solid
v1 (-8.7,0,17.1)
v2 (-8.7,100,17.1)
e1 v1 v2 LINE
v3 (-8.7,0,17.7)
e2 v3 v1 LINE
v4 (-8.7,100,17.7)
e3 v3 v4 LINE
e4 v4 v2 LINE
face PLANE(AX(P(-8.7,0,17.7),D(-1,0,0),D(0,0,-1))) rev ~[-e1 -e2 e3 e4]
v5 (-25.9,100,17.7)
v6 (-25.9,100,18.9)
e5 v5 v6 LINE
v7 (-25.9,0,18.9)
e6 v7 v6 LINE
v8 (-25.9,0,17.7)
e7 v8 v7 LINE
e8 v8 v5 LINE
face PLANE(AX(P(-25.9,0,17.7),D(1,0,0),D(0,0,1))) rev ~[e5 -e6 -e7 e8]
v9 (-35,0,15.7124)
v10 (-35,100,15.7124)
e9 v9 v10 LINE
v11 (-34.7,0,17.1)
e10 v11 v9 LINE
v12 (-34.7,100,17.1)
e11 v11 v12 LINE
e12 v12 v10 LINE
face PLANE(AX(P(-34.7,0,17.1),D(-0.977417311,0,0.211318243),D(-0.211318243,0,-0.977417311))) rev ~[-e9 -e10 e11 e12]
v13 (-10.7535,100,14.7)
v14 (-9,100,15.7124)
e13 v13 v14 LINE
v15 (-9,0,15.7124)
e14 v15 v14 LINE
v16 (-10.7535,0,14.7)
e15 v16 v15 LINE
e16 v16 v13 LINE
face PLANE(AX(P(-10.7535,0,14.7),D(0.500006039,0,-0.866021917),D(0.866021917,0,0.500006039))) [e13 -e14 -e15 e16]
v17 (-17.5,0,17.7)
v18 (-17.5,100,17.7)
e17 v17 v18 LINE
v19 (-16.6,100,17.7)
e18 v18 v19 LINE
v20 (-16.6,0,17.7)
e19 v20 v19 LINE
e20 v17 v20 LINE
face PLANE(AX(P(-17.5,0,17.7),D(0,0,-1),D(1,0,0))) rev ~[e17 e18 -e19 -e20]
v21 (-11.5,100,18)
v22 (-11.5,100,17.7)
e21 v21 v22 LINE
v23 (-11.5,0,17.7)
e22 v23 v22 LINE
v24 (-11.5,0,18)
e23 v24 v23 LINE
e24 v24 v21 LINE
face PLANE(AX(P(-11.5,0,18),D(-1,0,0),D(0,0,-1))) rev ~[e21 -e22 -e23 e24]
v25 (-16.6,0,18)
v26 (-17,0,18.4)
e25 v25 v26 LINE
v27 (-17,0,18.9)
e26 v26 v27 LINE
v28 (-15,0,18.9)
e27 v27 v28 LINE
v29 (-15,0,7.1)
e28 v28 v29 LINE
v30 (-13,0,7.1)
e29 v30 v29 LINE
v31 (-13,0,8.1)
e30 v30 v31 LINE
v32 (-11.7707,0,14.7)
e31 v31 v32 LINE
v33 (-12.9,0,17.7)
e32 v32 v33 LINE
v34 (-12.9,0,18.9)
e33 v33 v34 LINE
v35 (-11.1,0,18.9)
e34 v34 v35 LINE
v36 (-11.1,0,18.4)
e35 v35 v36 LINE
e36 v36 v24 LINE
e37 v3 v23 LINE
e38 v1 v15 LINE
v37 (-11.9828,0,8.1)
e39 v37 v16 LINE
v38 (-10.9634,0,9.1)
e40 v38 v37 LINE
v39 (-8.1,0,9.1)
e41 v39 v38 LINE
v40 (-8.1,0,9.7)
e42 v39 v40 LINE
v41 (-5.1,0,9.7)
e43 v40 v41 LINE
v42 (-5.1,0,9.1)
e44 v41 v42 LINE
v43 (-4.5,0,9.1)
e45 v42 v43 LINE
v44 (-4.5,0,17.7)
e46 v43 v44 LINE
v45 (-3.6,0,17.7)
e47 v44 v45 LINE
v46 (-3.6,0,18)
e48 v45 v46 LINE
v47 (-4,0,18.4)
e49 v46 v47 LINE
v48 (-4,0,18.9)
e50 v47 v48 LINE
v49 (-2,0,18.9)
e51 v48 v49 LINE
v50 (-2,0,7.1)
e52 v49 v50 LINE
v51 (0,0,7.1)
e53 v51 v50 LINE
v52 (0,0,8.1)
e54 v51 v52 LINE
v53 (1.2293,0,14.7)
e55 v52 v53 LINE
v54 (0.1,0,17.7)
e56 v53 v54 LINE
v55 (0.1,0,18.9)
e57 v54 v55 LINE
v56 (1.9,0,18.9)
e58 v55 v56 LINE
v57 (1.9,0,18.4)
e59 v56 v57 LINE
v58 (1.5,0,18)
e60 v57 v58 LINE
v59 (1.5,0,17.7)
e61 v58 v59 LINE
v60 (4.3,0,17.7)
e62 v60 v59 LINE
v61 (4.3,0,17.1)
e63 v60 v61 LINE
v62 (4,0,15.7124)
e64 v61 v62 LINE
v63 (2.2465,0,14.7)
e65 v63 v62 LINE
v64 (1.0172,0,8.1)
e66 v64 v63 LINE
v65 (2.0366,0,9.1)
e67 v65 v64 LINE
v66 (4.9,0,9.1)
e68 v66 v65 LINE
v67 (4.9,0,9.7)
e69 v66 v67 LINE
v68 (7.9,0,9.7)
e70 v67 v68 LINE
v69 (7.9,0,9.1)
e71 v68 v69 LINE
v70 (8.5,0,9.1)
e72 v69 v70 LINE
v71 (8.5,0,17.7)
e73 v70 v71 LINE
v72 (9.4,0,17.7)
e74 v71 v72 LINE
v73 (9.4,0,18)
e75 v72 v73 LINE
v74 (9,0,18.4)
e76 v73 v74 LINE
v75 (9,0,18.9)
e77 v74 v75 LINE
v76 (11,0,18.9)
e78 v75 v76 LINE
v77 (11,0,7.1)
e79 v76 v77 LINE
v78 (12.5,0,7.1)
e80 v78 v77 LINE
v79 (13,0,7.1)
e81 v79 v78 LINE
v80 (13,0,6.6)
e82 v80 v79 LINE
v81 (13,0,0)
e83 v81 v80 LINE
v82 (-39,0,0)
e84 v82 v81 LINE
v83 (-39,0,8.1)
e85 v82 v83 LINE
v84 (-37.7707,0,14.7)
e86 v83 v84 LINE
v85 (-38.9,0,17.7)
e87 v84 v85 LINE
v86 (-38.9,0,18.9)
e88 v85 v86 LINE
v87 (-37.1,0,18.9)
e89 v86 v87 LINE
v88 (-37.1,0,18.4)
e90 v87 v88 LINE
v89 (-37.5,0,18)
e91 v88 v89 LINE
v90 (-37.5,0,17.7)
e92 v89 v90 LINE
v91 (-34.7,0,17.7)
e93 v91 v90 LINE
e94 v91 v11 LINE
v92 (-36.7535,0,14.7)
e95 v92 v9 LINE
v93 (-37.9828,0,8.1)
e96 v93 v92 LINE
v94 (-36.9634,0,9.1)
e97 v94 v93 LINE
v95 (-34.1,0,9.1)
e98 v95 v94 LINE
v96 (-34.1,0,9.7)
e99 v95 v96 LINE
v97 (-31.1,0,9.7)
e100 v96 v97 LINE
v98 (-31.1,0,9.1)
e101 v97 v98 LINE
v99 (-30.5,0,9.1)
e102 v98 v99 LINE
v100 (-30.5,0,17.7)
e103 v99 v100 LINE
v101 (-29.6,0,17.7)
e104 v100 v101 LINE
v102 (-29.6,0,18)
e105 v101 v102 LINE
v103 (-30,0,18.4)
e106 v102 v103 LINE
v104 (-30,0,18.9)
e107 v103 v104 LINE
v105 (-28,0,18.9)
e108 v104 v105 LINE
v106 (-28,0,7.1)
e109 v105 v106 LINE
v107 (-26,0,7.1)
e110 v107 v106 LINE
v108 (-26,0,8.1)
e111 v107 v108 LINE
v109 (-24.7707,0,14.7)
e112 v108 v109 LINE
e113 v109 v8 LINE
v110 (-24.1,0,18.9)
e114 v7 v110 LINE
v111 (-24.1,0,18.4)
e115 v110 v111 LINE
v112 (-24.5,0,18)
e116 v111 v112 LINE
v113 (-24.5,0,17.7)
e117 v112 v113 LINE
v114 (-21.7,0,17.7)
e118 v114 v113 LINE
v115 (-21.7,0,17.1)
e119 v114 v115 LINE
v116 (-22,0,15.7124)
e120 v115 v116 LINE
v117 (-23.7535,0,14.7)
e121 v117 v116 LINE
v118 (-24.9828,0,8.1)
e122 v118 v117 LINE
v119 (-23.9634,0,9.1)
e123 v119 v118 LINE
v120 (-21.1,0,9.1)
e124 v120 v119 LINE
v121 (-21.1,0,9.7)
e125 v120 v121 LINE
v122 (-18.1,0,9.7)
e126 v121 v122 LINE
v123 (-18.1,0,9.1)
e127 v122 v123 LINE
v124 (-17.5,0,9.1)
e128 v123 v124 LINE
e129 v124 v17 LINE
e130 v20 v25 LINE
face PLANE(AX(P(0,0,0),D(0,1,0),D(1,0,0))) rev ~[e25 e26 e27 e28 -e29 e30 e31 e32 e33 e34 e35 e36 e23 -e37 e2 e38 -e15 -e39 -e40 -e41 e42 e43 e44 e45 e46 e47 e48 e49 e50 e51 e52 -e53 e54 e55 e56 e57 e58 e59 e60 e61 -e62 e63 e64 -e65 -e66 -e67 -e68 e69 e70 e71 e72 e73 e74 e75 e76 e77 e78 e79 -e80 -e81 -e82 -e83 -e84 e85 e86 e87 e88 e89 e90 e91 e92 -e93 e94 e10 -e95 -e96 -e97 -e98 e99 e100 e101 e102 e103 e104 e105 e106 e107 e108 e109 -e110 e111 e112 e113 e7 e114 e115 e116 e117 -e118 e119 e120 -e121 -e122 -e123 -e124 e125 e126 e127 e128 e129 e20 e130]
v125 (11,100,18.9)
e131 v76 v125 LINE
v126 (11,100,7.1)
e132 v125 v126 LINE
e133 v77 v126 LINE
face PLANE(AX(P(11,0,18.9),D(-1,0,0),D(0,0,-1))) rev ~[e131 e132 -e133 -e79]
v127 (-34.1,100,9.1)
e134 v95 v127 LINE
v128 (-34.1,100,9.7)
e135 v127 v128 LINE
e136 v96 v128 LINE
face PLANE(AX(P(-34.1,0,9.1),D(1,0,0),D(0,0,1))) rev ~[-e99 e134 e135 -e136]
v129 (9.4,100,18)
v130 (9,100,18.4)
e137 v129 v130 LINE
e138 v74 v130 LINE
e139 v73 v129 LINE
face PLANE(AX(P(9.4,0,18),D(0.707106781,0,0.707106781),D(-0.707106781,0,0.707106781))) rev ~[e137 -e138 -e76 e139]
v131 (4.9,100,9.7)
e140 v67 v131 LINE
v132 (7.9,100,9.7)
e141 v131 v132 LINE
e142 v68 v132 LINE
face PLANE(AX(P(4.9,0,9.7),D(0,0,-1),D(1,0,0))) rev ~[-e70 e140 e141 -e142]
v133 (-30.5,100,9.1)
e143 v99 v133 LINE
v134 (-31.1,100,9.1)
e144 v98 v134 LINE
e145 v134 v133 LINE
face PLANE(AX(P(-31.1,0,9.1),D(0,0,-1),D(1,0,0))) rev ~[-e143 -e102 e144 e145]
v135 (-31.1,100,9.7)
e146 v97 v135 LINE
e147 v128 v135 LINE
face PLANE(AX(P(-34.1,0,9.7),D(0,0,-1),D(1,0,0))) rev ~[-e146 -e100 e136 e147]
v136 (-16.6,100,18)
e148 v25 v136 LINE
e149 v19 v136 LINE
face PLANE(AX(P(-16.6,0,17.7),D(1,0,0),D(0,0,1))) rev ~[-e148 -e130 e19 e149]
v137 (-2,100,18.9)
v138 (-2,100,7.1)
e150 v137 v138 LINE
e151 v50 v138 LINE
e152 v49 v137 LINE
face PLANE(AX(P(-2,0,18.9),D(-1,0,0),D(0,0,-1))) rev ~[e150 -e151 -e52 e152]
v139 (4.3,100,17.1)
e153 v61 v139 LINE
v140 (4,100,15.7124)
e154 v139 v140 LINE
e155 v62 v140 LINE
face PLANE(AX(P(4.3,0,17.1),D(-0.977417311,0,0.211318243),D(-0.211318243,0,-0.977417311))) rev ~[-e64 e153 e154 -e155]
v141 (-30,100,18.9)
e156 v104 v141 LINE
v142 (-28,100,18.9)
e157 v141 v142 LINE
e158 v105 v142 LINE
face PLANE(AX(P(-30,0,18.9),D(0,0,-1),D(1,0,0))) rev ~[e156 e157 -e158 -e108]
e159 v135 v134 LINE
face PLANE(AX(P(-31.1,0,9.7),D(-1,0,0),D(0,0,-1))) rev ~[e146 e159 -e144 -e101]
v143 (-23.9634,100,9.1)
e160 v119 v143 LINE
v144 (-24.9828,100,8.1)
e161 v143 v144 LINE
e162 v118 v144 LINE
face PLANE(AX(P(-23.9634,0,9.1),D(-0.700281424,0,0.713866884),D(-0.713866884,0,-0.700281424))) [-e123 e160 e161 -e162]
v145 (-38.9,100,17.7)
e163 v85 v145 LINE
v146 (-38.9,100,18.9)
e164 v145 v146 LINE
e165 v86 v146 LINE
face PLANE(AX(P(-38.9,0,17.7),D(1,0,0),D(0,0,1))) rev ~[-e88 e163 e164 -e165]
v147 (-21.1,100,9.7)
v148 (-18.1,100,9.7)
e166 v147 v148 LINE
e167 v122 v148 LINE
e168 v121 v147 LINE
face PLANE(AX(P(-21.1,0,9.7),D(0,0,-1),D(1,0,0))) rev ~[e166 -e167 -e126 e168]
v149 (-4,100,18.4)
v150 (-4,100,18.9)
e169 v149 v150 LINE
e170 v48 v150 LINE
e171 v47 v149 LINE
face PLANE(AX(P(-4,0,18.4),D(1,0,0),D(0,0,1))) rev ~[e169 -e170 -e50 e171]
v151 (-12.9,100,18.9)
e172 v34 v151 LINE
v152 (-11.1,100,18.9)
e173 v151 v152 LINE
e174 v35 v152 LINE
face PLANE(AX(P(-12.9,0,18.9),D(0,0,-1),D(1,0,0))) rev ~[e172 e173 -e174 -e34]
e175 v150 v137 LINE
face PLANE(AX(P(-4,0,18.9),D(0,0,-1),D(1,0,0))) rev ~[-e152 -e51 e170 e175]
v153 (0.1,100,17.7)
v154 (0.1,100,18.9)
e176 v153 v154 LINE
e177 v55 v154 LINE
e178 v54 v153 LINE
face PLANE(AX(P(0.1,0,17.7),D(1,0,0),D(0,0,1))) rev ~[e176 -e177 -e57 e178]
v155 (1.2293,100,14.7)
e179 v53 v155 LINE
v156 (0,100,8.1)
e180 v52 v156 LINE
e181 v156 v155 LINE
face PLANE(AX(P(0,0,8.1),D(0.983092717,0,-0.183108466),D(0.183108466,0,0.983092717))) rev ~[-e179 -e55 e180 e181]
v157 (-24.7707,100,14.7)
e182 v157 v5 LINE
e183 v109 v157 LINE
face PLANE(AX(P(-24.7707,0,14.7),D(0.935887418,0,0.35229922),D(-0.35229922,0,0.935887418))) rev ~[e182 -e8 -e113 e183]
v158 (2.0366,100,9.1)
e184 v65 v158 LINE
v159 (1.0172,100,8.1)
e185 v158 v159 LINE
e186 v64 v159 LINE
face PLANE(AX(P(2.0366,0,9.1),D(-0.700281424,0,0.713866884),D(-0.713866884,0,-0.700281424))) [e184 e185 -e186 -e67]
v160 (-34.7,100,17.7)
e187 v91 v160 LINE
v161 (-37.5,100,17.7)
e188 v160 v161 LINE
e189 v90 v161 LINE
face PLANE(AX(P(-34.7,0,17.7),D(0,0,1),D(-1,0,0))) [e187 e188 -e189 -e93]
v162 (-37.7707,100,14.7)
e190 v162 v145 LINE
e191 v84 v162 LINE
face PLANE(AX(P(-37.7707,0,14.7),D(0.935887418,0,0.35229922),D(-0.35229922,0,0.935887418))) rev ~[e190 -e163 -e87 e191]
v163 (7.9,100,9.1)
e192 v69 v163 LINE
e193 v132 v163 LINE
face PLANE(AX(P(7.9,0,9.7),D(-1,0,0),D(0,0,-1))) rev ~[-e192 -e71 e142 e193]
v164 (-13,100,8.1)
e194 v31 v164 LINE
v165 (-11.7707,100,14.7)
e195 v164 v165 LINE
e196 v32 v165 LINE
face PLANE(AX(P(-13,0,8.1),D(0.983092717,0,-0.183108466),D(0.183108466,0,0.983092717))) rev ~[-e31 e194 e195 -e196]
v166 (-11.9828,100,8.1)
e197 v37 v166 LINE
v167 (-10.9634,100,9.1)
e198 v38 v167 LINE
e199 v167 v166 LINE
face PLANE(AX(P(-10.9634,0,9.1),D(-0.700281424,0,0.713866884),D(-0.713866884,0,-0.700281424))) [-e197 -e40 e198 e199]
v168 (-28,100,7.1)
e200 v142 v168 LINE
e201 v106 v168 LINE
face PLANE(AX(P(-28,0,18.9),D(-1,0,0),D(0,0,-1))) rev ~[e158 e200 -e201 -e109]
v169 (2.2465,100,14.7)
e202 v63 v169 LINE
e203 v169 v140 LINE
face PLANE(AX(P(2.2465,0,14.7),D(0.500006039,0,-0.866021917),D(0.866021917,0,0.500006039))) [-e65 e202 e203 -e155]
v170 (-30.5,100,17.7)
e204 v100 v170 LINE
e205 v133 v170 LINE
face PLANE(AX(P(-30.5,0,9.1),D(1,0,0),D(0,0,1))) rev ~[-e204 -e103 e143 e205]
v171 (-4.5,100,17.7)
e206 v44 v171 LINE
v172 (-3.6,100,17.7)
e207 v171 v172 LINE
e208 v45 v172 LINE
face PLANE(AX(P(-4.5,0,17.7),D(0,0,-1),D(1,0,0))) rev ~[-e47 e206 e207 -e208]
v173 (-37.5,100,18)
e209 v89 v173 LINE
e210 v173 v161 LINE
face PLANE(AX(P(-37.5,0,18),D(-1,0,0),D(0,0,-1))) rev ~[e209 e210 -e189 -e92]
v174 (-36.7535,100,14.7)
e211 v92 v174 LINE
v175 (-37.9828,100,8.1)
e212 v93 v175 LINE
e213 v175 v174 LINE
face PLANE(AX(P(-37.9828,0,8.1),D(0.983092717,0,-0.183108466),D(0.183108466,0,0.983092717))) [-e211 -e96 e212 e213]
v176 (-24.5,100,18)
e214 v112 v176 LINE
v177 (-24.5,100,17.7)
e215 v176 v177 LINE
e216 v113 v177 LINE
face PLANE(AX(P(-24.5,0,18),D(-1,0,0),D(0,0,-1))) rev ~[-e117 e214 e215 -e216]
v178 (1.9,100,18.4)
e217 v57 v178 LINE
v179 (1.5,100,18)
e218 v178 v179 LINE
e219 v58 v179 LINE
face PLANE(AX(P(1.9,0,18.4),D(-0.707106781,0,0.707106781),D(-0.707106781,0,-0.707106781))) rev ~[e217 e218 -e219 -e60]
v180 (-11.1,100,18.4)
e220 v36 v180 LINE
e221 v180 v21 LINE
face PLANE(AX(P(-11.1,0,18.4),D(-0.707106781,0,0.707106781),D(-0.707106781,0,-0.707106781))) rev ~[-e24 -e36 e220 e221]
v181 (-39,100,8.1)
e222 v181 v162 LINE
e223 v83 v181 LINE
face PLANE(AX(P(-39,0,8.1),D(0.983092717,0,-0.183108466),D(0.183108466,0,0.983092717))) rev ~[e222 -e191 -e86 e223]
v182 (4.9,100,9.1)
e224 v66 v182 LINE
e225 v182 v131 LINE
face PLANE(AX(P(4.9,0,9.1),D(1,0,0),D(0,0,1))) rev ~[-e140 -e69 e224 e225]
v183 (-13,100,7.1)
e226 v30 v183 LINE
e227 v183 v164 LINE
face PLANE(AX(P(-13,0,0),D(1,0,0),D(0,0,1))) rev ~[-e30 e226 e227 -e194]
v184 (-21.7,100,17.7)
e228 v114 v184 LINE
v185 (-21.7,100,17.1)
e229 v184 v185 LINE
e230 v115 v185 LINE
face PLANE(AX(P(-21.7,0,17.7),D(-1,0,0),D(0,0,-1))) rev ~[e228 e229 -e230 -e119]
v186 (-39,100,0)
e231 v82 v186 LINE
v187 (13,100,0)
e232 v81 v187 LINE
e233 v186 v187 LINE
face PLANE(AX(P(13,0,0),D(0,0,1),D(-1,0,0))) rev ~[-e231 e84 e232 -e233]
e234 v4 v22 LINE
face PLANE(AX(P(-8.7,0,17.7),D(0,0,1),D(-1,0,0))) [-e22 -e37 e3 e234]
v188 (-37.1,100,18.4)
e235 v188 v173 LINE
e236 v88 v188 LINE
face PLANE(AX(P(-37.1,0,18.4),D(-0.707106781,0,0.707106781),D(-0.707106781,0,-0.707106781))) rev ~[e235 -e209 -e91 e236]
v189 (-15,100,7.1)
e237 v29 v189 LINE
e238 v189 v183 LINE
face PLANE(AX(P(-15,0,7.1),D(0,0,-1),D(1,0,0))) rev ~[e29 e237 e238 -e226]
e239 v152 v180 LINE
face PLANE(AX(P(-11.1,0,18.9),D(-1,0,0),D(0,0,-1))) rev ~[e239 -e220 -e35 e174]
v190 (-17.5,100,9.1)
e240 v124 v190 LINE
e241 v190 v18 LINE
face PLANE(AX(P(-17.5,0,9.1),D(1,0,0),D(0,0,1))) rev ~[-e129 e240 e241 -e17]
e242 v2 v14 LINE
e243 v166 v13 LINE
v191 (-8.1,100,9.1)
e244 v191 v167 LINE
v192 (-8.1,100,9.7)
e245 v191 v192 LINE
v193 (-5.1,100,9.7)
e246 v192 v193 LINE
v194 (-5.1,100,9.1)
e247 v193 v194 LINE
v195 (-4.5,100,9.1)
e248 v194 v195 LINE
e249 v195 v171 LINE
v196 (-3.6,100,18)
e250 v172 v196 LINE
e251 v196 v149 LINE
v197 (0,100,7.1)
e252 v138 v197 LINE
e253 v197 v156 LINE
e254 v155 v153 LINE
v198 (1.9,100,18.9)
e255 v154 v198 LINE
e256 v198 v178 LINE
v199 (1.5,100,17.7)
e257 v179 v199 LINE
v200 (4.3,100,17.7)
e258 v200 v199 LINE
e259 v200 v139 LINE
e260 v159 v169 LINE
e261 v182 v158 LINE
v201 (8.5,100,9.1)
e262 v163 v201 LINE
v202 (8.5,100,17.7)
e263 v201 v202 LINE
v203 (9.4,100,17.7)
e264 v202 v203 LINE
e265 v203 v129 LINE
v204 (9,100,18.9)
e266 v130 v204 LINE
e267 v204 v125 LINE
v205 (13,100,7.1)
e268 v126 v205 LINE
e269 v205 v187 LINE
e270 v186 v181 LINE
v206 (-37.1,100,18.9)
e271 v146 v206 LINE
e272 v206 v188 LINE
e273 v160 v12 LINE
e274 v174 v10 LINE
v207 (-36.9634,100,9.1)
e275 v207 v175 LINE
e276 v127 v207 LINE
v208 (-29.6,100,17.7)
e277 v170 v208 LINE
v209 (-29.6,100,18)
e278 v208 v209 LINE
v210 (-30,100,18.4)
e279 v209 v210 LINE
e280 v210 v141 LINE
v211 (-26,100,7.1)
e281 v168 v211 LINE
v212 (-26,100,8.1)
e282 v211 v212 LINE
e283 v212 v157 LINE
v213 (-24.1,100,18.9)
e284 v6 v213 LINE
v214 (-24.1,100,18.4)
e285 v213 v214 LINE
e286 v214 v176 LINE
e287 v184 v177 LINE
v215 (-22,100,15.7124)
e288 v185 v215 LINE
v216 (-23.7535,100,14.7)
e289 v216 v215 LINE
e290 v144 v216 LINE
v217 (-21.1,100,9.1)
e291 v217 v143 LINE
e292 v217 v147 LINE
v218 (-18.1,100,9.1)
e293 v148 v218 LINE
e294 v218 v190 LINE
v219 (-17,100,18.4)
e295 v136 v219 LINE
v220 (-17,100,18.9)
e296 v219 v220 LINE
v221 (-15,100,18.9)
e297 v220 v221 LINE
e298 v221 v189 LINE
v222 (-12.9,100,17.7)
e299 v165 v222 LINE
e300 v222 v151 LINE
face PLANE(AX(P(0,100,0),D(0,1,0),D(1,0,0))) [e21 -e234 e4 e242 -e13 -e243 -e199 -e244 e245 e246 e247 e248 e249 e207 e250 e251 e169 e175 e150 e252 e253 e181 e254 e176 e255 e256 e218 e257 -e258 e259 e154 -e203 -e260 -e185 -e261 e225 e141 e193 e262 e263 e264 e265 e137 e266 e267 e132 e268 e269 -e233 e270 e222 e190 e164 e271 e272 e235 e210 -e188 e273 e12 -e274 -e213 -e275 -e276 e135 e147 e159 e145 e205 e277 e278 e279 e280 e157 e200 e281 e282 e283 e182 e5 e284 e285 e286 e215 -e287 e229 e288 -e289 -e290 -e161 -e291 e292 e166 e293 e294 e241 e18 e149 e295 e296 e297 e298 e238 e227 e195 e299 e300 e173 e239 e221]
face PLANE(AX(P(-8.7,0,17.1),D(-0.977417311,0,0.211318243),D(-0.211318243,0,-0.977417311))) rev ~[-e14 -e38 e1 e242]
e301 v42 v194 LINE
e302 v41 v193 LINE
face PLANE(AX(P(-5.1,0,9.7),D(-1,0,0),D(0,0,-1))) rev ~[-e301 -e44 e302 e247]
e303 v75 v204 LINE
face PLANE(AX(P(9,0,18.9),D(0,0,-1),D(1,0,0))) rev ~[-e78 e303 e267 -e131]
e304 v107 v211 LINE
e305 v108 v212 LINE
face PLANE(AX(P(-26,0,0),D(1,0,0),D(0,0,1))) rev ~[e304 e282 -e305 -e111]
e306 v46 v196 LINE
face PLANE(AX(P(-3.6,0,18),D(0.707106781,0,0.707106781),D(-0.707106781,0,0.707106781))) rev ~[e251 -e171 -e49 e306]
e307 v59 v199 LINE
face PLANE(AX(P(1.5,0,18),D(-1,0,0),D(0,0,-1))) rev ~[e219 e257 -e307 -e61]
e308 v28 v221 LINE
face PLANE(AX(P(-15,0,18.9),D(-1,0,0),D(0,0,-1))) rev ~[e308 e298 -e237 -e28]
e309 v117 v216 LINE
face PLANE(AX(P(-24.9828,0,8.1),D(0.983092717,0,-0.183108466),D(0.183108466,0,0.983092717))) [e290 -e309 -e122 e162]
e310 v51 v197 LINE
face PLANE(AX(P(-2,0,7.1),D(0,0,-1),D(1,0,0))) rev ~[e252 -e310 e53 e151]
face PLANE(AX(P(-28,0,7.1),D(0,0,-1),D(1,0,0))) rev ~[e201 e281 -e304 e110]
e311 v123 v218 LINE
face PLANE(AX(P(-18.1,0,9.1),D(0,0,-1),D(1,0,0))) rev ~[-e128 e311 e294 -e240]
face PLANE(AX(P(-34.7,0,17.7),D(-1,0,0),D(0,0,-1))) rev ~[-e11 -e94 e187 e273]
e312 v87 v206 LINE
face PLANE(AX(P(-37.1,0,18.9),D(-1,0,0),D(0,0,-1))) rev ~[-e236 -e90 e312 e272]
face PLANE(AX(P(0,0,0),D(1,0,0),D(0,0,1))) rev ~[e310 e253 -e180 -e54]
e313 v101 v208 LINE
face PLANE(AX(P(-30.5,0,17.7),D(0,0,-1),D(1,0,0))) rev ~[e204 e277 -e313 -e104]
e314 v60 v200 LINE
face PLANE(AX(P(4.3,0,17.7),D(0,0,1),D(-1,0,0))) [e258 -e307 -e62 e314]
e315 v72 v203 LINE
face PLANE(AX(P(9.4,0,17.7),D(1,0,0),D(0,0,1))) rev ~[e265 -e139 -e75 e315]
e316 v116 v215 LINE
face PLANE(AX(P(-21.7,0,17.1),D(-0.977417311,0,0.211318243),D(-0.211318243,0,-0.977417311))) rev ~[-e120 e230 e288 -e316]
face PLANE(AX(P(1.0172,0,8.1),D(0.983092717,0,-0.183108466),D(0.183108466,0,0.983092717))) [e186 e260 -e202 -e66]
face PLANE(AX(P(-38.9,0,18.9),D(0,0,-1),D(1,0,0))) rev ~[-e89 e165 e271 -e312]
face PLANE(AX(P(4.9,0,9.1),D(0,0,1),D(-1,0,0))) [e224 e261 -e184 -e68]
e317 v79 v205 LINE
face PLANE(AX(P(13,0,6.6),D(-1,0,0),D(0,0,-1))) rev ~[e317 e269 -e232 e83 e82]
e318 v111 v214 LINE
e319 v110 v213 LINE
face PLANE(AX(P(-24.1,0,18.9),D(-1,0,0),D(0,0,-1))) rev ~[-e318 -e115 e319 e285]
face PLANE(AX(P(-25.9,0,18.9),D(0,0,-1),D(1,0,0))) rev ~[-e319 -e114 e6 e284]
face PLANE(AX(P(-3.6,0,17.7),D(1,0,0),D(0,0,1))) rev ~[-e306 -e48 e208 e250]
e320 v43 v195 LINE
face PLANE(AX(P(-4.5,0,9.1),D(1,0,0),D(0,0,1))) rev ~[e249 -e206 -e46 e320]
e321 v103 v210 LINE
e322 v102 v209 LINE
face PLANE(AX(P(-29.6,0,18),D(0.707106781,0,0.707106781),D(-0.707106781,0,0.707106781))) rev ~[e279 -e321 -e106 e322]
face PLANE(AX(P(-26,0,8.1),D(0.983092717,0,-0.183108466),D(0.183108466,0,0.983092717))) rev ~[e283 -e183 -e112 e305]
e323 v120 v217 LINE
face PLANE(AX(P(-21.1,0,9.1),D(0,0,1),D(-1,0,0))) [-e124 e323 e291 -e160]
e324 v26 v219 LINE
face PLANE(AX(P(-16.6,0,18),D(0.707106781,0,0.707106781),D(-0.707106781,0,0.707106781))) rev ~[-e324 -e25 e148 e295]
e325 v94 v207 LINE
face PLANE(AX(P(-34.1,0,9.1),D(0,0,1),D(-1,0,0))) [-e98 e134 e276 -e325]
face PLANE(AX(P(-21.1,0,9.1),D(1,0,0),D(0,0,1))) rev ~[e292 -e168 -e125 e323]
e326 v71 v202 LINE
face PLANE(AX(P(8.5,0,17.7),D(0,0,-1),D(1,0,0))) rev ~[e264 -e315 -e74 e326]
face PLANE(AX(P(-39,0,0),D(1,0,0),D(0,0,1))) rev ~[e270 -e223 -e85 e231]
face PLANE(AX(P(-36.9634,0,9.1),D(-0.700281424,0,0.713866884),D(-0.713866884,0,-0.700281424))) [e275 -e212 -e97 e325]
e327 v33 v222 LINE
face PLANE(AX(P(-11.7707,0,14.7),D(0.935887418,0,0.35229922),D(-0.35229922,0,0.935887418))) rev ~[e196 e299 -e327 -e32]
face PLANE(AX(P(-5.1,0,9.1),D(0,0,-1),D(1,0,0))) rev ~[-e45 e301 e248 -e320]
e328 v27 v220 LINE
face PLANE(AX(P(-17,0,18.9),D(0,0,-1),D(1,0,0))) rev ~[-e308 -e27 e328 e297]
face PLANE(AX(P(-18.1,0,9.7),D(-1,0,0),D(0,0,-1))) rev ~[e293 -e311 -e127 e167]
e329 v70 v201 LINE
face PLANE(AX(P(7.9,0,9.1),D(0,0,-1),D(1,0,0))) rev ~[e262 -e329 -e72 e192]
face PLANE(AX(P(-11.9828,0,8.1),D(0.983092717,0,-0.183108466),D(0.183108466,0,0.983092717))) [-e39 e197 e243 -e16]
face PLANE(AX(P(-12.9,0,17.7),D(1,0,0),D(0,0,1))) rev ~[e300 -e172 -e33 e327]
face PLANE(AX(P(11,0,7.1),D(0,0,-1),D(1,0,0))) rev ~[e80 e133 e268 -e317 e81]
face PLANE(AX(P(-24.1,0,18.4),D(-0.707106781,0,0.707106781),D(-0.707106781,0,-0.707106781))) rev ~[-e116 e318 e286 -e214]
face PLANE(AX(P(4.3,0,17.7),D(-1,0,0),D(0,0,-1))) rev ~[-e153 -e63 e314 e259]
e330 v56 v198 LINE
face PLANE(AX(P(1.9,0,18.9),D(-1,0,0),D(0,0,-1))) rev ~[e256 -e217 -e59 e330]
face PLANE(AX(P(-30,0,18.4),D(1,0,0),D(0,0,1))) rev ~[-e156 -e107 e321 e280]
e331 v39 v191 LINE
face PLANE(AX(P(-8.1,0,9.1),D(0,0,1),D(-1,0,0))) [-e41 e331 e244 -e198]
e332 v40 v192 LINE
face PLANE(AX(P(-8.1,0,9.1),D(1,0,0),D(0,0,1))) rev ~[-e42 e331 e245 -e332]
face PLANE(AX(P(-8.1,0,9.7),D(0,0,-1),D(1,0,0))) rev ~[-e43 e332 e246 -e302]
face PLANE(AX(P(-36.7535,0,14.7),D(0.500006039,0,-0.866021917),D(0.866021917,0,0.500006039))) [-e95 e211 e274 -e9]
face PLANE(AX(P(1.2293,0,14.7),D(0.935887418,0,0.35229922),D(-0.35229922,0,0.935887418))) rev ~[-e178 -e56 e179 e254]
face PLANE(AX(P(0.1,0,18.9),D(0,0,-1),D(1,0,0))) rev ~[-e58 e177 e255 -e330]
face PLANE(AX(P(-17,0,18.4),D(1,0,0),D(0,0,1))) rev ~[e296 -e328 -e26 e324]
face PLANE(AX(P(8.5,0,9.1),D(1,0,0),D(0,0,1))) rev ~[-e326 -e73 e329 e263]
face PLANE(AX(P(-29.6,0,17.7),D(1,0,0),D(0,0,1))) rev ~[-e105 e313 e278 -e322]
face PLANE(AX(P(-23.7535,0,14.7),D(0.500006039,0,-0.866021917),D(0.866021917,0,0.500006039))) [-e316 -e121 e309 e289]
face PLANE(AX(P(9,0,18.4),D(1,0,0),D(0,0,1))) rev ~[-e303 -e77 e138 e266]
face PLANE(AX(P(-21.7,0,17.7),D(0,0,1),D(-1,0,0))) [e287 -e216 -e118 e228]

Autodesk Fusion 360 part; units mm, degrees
sketch "Skizze1" plane through (0, 0, 0) normal (0, 1, 0) x (1, 0, 0)
  line L0 (9.4, -17.7) -> (9.4, -18)
  line L1 (8.5, -17.7) -> (9.4, -17.7)
  line L2 (1.2293, -14.7) -> (0.1, -17.7)
  line L3 (4.3, -17.7) -> (4.3, -17.1)
  line L4 (0, -8.1) -> (1.2293, -14.7)
  line L5 (0.1, -18.9) -> (1.9, -18.9)
  line L6 (0.1, -17.7) -> (0.1, -18.9)
  line L7 (1.9, -18.4) -> (1.5, -18)
  line L8 (1.5, -18) -> (1.5, -17.7)
  line L9 (1.9, -18.9) -> (1.9, -18.4)
  line L10 (4.3, -17.1) -> (2.2465, -14.7)
  line L11 (13, 0) -> (0, 0)
  line L12 (9, -18.9) -> (11, -18.9)
  line L13 (0, 0) -> (0, -8.1)
  line L14 (8.5, -9.1) -> (8.5, -17.7)
  line L15 (4.3, -17.7) -> (1.5, -17.7)
  line L16 (11, -18.9) -> (11, -7.1)
  line L17 (9.4, -18) -> (9, -18.4)
  line L18 (9, -18.4) -> (9, -18.9)
  line L19 (4.9, -9.1) -> (2.0366, -9.1)
  line L20 (1.0172, -8.1) -> (2.2465, -14.7)
  line L21 (2.0366, -9.1) -> (1.0172, -8.1)
  line L22 (11, -7.1) -> (13, -7.1)
  line L23 (13, -7.1) -> (13, 0)
  circle A0 centre (12.5, -6.6) radius 0.5
  line L24 (2.2465, -14.7) -> (4, -15.7124)
  line L25 (2.2465, -14.7) -> (2.2465, -9.6844) construction
  line L26 (4.3, -17.1) -> (4, -15.7124)
  line L27 (0.7, -6.388) -> (0.7, -1)
  line L28 (0.7, -1) -> (12.5, -1)
  line L29 (12.5, -1) -> (12.5, -6.7)
  line L30 (12.5, -6.7) -> (10.6, -6.7)
  line L31 (10.6, -8.1) -> (10.6, -6.7)
  line L32 (4.9, -9.1) -> (4.9, -9.7)
  line L33 (4.9, -9.7) -> (7.9, -9.7)
  line L34 (7.9, -9.7) -> (7.9, -9.1)
  line L35 (7.9, -9.1) -> (8.5, -9.1)
  line L36 (8.5, -8.1) -> (10.6, -8.1)
  line L37 (1.7175, -7.3861) -> (0.7, -6.388)
  line L38 (6.9, -8.1) -> (8.5, -8.1)
  line L39 (6.9, -8.7) -> (6.9, -8.1)
  line L40 (5.9, -8.7) -> (6.9, -8.7)
  line L41 (5.9, -8.1) -> (5.9, -8.7)
  line L42 (5.9, -8.1) -> (2.4452, -8.1)
  line L43 (2.4452, -8.1) -> (1.7175, -7.3861)
  dimension "d14" = 7.9
  dimension "d15" = 2.8
  dimension "d16" = 0.9
  dimension "d17" = 17.7
  dimension "d18" = 0.3
  dimension "d21" = 18.9
  dimension "d26" = 35
  dimension "d28" = 1
  dimension "d30" = 150
  dimension "d31" = 0.4
  dimension "d32" = 1.4
  dimension "d33" = 1
  dimension "d34" = 0.6
  dimension "d35" = 3
  dimension "d36" = 45
  dimension "d37" = 45
  dimension "d38" = 0.4
  dimension "d39" = 0.1
  dimension "d42" = 1
  dimension "d94" = 2.5
  dimension "d95" = 0.5
  dimension "d96" = 0.5
  dimension "d97" = 2
  dimension "d98" = 1
  dimension "d105" = 120
  dimension "d106" = 2.5
  dimension "d119" = 8.6
  dimension "d135" = 1
  dimension "d136" = 0.7
  dimension "d137" = 0.5
  dimension "d139" = 0.4
  dimension "d141" = 0.4
  dimension "d142" = 0.6
  dimension "d143" = 0.6
  dimension "d144" = 8
  dimension "d146" = -1
extrude "Extrusion2" add sketch "Skizze1" along normal blind 1 contours A0 L29 L30 | A0 L29 L30
extrude "Extrusion1" add sketch "Skizze1" along normal blind 100
sketch "Skizze6" plane through (0, 0, 17.7) normal (0, 0, 1) x (-1, 0, 0)
  line L0 (-1.5, 0) -> (-4.3, 0)
  line L1 (-4.3, 0) -> (-4.3, -100)
  line L2 (-4.3, -100) -> (-1.5, -100)
  line L3 (-1.5, -100) -> (-1.5, 0)
  circle A0 centre (-3.25, -1.75) radius 0.75
  dimension "d99" = 1.5
  dimension "d100" = 1.75
  dimension "d102" = 1.75
sketch "Skizze4" plane through (0, 0, 0) normal (0, 0, -1) x (0, 1, 0)
  line L0 (0, 13) -> (0, 0)
  line L1 (100, 0) -> (100, 13)
  line L2 (0, 0) -> (0, 13)
  line L3 (0, 0) -> (-10, 0)
  line L4 (-10, 0) -> (-10, 13)
  line L5 (-10, 13) -> (0, 13)
  line L6 (50, 0) -> (50, 17.319) construction
  circle A0 centre (-5, 6.5) radius 1.65
  line L7 (100, 0) -> (110, 0)
  line L8 (100, 0) -> (100, 13)
  line L9 (110, 13) -> (100, 13)
  line L10 (110, 0) -> (110, 13)
  circle A1 centre (105, 6.5) radius 1.65
  line L11 (0, 0) -> (100, 0)
  line L12 (100, 13) -> (0, 13)
  circle A2 centre (105, 6.5) radius 4
  circle A3 centre (-5, 6.5) radius 4
  point P0 (-10, 6.5)
  point P1 (-5, 0)
  point P2 (0, 13)
  dimension "d88" = 3.3
  dimension "d89" = 10
  dimension "d123" = 8
pattern_linear "R-Anordnung1" count 4 spacing 13 along (-1, 0, 0) of "Extrusion1"
equation "Strip_width = 8 mm" comment "check!!! 8, 12, 16, 24 mm"
equation "Strip_hight = 0.3 mm" comment "check!!! default: 0,7; paper strip 0,9mm; plastic strip 0,3mm"
equation "Reference_hight_machine = 18 mm" comment "Pickuphight from table"
equation "Number_Feeders = 4" comment "check!!! Amount of Strips"
equation "Length_Strips = 100 mm" comment "check!!! Strip Length"
equation "Tape_Clearence = 0.1 mm" comment "default 0,05"
equation "TapeSupport_width_HoleSide = 2.8 mm"
equation "TapeSupport_width_NonHoleSide = 0.9 mm"
equation "With_between_feeders = 2 mm"
equation "d14 = Strip_width - Tape_Clearence"
equation "d15 = TapeSupport_width_HoleSide"
equation "d16 = TapeSupport_width_NonHoleSide"
equation "d17 = Reference_hight_machine - Strip_hight"
equation "d18 = Strip_hight"
equation "d21 = Reference_hight_machine + 0.9 mm"
equation "d37 = d36"
equation "d38 = d31"
equation "d39 = Tape_Clearence"
equation "d40 = Length_Strips"
equation "d44 = Number_Feeders"
equation "d46 = -3 mm - Strip_width - With_between_feeders"
equation "width = 3 mm"
equation "d95 = d98 / 2"
equation "d96 = d98 / 2"
equation "d97 = With_between_feeders"
equation "Strip_Pitch = 4 mm"
equation "d102 = d100"
equation "d105 = 30 deg + 90 deg"
equation "Components_max_height = 8 mm" comment "default 8mm"
equation "d141 = d139"
equation "d142 = d143"
equation "d144 = Components_max_height"
